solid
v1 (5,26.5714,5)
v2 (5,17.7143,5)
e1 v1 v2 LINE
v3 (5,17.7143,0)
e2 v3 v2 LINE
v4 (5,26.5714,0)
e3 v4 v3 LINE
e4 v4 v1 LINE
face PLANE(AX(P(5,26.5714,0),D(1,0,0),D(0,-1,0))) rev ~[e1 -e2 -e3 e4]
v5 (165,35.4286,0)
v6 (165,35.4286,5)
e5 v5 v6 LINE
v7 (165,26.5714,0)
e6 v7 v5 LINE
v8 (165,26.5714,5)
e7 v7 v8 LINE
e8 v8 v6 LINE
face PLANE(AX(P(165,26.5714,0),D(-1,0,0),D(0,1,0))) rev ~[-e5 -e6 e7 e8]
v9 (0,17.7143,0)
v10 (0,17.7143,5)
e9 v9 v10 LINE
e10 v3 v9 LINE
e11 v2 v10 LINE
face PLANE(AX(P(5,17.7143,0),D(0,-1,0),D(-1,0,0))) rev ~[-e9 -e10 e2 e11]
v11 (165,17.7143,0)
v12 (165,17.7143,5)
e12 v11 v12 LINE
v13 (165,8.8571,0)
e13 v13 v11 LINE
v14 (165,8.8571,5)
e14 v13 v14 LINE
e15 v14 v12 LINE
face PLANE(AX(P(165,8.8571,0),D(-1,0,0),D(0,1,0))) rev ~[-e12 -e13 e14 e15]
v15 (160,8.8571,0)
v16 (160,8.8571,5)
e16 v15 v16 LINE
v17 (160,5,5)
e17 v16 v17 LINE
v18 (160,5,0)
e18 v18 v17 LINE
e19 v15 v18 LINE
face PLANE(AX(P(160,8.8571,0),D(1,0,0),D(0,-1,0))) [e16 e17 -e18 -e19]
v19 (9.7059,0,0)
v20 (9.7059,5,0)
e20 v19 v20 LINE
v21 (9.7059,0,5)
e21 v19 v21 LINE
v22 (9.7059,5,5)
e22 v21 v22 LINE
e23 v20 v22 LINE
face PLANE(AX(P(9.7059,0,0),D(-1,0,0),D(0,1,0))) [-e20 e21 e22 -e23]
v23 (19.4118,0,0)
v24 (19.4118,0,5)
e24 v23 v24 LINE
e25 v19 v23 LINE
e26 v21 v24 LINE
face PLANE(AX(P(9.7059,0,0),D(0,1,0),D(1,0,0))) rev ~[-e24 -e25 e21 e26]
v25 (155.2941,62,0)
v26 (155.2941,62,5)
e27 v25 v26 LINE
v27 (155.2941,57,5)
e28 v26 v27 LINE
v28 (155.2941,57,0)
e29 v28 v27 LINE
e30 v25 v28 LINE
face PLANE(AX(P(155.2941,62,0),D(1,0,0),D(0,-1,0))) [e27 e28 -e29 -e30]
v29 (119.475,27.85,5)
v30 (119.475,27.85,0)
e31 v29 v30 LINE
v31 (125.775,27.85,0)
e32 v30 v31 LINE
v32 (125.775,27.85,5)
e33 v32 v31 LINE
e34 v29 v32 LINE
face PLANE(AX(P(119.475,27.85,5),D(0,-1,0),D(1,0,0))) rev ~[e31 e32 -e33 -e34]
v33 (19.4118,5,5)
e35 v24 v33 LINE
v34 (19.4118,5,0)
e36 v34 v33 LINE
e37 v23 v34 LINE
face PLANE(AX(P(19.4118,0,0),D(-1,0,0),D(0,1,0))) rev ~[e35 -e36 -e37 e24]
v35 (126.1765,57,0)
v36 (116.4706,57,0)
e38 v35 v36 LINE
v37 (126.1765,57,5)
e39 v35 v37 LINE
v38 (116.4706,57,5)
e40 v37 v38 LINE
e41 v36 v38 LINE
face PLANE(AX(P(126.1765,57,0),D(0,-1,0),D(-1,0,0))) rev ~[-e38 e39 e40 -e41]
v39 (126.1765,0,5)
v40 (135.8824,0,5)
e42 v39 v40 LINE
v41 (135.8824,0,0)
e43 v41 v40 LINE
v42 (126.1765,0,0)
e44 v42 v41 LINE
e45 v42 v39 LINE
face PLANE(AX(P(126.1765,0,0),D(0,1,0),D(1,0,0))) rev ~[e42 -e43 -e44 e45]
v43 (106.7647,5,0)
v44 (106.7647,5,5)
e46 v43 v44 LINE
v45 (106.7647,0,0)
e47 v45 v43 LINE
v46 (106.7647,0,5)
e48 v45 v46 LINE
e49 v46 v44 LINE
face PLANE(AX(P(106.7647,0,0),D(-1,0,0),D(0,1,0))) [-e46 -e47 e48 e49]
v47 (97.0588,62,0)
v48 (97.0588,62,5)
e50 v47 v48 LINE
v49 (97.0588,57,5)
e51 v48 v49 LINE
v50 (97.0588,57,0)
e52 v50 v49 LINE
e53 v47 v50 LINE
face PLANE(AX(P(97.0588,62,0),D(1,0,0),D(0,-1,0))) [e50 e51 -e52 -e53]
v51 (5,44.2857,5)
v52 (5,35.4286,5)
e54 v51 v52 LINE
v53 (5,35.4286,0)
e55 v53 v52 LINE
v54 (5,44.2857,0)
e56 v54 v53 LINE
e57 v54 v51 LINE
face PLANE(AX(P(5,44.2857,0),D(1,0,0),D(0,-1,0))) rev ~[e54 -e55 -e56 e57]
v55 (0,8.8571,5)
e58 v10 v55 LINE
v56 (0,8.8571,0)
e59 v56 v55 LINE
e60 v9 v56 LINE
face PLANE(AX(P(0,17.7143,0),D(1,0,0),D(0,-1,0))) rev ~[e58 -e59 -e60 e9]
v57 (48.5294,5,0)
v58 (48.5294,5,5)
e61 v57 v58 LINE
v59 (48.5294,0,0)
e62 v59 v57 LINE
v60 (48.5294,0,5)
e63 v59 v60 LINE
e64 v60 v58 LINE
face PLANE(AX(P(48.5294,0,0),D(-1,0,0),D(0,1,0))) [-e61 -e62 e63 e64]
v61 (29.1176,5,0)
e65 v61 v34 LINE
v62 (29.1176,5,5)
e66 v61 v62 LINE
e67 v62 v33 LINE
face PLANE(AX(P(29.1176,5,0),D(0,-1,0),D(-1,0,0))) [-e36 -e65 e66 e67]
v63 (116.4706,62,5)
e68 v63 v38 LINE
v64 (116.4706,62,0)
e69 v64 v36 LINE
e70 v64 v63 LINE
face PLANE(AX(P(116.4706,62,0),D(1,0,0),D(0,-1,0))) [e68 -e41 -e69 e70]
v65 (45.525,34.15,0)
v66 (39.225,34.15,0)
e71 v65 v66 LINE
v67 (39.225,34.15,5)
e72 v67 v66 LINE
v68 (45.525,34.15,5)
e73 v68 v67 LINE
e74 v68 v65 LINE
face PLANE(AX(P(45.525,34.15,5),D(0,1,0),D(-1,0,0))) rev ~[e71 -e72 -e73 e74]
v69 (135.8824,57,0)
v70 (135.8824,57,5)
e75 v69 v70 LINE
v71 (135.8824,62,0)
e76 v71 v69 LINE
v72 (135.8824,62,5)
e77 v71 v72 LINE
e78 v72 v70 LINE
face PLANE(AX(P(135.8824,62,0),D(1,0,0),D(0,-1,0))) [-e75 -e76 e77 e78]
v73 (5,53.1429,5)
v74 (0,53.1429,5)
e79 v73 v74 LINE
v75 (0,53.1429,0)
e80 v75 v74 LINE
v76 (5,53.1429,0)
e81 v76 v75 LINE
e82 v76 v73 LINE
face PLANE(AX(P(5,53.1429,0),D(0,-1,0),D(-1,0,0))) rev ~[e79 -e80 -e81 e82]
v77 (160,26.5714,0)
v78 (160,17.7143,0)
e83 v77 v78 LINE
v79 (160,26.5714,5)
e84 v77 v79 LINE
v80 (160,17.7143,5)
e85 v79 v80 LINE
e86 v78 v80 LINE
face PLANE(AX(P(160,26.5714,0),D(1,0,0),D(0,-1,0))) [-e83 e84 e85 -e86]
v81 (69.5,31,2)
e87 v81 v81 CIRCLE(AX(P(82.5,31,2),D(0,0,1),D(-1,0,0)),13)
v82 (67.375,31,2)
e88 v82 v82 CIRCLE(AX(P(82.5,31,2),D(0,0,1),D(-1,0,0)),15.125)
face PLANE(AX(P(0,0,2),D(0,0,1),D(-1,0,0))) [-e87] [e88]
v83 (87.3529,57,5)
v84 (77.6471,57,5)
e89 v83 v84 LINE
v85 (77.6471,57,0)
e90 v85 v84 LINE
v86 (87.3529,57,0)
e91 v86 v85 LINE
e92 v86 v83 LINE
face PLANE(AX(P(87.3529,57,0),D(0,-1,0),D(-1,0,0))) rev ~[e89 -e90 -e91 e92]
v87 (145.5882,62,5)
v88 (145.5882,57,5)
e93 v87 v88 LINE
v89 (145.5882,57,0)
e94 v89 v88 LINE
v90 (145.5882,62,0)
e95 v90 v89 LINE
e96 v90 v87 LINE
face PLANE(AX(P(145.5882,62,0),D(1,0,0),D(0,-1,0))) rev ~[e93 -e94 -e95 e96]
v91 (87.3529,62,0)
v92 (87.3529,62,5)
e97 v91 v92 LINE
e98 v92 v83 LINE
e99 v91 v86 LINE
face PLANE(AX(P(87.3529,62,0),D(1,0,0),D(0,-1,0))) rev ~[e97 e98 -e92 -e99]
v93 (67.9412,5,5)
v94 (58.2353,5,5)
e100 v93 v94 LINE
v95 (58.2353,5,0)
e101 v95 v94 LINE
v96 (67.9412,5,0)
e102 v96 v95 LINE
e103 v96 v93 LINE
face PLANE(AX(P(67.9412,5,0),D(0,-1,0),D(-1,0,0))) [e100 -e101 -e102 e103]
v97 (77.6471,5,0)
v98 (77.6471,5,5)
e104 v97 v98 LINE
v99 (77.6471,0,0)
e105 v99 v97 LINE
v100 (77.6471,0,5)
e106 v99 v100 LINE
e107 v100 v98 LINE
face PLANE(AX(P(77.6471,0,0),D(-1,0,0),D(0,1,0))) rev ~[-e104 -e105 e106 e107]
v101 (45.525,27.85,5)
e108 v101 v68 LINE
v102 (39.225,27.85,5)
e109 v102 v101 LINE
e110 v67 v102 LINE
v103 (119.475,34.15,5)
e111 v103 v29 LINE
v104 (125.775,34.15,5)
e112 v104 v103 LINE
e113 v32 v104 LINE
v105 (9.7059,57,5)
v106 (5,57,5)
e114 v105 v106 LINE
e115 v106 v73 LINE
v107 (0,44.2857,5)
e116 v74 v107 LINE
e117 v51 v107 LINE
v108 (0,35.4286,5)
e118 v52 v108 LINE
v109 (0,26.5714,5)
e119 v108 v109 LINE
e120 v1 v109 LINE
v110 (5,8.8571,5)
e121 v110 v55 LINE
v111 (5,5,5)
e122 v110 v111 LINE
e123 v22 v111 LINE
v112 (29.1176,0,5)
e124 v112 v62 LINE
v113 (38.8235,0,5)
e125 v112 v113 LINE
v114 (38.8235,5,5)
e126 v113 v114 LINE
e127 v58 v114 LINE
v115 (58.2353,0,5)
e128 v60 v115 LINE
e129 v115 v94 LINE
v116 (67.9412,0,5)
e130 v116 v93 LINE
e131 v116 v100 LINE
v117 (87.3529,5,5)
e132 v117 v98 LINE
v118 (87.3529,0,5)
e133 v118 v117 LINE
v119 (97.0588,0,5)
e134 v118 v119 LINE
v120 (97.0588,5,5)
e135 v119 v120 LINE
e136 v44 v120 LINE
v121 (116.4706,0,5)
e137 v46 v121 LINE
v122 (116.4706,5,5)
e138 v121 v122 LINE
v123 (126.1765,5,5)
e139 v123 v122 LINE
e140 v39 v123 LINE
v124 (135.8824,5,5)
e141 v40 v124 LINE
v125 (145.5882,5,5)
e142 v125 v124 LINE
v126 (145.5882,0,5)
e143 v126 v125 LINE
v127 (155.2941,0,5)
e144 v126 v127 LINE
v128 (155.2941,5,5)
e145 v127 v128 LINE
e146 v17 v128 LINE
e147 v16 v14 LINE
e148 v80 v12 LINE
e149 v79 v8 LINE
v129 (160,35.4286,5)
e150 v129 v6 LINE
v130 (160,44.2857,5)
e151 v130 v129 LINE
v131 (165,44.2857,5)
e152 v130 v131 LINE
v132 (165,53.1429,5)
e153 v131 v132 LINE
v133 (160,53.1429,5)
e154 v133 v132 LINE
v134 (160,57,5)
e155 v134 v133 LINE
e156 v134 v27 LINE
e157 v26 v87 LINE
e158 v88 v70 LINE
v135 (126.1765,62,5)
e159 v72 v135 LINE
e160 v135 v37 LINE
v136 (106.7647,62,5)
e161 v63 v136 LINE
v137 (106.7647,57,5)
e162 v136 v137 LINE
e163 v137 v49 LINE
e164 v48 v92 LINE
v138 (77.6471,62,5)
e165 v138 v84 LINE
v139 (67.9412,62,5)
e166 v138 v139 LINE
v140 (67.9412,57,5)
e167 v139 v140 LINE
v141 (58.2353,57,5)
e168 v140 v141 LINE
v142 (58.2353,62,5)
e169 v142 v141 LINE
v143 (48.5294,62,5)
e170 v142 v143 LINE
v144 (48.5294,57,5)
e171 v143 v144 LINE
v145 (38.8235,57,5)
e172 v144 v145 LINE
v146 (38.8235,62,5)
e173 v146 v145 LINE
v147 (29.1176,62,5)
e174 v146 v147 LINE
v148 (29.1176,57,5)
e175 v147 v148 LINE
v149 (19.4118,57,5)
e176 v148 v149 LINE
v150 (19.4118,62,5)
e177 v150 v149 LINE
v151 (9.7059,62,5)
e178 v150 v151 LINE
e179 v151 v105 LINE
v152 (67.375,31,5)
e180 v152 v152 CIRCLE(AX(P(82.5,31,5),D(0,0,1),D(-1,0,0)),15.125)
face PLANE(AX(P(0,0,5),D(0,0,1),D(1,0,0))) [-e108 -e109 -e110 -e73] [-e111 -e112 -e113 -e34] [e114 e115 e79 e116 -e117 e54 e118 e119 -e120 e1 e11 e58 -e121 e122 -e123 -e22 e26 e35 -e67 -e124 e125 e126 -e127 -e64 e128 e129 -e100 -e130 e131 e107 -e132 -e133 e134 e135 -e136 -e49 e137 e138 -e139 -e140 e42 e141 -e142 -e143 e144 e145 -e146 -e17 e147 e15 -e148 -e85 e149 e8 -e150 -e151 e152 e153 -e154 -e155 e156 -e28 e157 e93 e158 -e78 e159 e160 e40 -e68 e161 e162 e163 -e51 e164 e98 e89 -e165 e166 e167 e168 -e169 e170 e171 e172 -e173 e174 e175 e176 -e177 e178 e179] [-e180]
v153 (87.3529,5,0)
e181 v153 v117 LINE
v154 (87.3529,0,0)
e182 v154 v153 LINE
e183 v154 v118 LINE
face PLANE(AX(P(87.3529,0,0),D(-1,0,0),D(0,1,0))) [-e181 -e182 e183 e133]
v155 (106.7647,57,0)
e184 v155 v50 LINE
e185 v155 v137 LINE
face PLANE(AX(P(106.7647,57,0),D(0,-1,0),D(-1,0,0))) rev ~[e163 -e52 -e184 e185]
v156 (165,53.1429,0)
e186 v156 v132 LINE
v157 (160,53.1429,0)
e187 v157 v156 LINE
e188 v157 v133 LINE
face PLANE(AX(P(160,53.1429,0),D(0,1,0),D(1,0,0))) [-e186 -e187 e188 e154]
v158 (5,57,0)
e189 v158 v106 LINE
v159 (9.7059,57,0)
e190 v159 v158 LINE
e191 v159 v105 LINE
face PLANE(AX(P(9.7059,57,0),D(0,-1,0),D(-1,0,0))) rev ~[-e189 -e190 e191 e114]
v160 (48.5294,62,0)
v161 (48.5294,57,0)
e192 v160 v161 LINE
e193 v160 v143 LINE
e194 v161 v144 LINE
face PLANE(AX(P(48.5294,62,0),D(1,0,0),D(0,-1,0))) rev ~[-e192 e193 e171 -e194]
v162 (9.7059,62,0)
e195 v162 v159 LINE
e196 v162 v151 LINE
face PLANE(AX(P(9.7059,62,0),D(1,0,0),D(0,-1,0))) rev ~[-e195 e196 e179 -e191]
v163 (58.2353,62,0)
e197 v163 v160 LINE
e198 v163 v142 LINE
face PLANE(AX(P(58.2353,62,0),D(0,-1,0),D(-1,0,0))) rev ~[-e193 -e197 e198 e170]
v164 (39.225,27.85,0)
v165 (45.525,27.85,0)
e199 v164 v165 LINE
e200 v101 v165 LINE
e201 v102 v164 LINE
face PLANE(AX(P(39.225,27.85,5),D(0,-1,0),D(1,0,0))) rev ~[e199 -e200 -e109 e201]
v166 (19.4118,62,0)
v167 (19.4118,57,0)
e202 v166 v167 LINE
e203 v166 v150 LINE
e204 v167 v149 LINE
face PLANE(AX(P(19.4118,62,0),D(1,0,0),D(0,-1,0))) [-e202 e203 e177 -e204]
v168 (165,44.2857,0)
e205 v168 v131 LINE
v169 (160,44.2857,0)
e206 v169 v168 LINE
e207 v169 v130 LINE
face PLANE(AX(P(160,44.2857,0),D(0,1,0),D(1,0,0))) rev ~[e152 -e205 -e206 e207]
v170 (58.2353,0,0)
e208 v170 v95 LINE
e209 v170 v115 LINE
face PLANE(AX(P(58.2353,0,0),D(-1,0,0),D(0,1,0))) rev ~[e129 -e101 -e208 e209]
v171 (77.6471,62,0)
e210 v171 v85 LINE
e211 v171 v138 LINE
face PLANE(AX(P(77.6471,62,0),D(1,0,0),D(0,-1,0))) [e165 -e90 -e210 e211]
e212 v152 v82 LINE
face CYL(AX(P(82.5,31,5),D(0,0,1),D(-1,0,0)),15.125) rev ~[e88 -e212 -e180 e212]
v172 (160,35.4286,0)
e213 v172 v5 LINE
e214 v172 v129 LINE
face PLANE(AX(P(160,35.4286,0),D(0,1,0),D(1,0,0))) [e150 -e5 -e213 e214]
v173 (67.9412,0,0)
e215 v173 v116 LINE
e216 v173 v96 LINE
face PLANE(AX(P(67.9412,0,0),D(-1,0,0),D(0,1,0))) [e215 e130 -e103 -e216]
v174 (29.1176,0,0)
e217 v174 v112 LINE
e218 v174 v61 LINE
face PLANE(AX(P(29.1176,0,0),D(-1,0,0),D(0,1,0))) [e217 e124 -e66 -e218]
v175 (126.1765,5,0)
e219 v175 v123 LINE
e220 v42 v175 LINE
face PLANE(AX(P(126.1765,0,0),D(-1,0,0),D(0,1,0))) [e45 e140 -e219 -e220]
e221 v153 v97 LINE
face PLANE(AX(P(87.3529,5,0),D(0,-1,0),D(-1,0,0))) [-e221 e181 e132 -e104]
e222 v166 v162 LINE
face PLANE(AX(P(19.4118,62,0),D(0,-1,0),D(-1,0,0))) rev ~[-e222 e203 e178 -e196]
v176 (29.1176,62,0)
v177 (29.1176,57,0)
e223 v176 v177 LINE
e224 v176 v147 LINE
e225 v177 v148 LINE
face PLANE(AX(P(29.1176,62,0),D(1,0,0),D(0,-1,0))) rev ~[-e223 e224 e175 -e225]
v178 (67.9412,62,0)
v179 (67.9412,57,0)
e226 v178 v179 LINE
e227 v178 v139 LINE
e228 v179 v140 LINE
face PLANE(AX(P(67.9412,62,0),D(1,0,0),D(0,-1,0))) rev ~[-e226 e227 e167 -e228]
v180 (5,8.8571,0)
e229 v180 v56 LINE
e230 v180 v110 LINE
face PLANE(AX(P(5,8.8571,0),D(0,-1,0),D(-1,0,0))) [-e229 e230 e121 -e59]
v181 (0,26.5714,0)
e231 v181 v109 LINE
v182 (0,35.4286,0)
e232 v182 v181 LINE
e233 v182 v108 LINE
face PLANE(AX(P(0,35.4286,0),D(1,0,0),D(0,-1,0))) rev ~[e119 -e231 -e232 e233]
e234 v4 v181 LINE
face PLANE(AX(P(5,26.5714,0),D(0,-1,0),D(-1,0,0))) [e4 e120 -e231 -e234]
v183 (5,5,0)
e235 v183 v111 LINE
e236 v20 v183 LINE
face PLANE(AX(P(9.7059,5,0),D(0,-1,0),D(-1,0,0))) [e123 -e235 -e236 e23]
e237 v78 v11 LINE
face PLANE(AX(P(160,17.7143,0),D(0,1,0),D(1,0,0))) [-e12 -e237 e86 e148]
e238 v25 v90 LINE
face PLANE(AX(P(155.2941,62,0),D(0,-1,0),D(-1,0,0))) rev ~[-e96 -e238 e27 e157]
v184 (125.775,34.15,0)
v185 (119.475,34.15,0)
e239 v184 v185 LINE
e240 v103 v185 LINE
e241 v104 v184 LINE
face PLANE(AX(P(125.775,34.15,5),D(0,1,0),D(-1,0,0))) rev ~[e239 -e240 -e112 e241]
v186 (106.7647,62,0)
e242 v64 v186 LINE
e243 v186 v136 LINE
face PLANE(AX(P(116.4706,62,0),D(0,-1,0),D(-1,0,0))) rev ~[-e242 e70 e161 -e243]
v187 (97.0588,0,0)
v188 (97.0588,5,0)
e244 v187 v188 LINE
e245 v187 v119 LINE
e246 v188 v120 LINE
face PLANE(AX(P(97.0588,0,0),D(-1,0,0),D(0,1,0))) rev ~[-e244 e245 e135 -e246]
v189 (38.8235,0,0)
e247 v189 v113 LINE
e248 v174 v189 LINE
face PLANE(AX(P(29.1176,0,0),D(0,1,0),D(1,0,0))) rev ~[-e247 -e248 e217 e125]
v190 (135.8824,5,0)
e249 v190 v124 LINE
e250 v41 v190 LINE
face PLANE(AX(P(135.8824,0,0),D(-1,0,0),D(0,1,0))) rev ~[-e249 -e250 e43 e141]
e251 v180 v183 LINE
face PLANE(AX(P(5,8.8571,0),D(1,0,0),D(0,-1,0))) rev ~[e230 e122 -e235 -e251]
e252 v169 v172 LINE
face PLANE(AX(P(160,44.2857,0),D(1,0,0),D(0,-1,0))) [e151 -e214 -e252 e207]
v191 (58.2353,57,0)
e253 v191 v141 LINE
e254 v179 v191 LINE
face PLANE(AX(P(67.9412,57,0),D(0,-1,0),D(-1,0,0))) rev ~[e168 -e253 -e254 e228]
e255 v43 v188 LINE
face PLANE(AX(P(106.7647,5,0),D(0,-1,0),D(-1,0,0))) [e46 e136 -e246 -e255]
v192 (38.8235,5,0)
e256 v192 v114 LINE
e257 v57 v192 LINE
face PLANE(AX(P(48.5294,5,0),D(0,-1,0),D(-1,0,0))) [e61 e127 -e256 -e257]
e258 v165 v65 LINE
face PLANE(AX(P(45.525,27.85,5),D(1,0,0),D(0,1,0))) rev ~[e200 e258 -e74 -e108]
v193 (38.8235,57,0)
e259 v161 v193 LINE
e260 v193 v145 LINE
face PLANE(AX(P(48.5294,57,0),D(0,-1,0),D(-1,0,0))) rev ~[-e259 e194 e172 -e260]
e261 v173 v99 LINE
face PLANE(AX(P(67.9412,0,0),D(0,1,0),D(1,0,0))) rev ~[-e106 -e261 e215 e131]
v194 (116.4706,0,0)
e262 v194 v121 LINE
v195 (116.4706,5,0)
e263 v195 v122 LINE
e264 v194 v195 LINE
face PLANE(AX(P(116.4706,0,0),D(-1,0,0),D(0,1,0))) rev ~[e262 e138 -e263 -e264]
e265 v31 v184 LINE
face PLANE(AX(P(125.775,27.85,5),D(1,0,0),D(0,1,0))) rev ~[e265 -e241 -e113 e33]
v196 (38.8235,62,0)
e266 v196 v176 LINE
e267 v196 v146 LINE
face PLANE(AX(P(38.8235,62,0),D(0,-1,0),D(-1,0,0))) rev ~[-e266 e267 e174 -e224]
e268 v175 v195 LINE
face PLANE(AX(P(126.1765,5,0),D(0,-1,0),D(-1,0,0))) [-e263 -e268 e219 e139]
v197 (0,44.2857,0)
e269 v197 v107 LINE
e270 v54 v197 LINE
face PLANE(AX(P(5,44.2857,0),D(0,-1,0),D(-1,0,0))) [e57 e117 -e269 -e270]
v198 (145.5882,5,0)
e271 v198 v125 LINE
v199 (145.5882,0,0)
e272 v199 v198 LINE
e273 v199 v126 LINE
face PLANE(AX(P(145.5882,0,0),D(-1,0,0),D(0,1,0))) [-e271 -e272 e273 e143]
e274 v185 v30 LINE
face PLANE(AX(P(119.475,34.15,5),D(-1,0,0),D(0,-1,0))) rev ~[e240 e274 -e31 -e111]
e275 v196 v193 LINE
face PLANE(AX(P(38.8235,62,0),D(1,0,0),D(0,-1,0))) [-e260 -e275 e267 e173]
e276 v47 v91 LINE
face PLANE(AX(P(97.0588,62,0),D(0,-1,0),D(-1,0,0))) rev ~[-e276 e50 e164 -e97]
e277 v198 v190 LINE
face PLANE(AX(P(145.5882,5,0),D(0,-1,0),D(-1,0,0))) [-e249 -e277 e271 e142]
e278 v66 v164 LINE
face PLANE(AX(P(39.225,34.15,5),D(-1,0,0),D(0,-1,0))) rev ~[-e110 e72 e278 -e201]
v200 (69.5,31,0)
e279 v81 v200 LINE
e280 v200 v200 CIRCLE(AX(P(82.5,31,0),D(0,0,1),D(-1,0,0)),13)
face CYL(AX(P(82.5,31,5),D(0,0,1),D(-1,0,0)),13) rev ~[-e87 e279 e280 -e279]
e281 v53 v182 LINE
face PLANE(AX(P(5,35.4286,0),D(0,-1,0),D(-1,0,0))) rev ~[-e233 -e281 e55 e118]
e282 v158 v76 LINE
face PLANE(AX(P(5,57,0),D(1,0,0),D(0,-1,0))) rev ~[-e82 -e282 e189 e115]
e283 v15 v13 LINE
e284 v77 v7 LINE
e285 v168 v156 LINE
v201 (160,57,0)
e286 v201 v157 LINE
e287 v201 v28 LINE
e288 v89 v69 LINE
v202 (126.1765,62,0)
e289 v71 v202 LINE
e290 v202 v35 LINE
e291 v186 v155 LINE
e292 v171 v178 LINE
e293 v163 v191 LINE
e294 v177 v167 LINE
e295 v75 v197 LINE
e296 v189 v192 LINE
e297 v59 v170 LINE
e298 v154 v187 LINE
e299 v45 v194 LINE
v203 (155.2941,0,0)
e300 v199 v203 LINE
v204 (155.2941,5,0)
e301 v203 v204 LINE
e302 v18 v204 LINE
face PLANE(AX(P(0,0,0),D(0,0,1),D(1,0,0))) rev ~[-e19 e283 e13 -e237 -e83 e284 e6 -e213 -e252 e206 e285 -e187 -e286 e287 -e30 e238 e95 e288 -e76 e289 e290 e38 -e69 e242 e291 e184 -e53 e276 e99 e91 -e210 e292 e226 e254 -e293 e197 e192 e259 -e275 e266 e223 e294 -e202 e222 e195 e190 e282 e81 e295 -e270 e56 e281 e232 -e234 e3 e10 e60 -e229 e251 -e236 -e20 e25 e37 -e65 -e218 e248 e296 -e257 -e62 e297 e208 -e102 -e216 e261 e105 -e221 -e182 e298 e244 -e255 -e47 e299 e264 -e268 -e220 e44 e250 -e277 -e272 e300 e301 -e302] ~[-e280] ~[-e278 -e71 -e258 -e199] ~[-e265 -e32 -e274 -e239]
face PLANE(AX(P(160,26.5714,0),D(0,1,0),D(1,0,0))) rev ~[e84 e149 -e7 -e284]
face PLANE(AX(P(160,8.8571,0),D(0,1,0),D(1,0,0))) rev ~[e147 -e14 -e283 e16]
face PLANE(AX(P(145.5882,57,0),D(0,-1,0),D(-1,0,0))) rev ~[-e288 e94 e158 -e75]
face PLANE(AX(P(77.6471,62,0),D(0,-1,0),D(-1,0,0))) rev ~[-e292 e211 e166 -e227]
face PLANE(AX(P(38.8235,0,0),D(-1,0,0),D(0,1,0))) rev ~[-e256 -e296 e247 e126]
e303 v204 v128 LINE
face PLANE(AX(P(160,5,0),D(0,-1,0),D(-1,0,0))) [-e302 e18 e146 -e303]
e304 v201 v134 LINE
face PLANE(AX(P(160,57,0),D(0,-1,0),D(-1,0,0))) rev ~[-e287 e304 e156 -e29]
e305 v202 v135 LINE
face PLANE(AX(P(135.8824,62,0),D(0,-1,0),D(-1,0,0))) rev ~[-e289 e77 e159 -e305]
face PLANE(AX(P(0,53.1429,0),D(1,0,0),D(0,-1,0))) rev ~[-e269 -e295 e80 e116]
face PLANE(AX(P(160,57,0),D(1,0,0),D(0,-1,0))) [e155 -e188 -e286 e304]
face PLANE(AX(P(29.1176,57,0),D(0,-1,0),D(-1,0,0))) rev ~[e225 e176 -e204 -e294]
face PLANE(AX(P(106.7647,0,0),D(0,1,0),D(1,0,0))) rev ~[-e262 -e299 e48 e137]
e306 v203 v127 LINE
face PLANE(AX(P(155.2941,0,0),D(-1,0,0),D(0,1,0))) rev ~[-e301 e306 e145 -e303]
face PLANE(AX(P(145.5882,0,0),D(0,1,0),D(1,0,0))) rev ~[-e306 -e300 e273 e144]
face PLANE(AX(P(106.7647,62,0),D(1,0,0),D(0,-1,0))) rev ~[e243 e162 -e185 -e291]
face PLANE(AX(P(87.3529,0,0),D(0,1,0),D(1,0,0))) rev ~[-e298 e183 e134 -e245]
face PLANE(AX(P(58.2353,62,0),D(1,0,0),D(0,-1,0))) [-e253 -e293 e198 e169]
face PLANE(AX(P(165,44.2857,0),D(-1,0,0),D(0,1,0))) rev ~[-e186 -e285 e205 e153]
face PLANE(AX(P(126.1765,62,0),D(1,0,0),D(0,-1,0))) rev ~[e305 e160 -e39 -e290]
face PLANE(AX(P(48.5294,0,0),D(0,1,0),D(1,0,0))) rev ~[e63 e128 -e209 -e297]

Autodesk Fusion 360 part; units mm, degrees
sketch "Sketch1" plane through (0, 0, 0) normal (0, 0, 1) x (1, 0, 0)
  line L0 (0, 0) -> (165, 0)
  line L1 (165, 0) -> (165, 62)
  line L2 (165, 62) -> (0, 62)
  line L3 (0, 62) -> (0, 0)
  line L4 (0, 62) -> (9.7059, 62)
  line L5 (9.7059, 62) -> (9.7059, 57)
  line L6 (9.7059, 57) -> (0, 57)
  line L7 (0, 57) -> (0, 62)
  line L8 (9.7059, 62) -> (19.4118, 62)
  line L9 (19.4118, 62) -> (19.4118, 57)
  line L10 (19.4118, 57) -> (9.7059, 57)
  line L11 (9.7059, 57) -> (9.7059, 62)
  line L12 (19.4118, 62) -> (29.1176, 62)
  line L13 (29.1176, 62) -> (29.1176, 57)
  line L14 (29.1176, 57) -> (19.4118, 57)
  line L15 (19.4118, 57) -> (19.4118, 62)
  line L16 (29.1176, 62) -> (38.8235, 62)
  line L17 (38.8235, 62) -> (38.8235, 57)
  line L18 (38.8235, 57) -> (29.1176, 57)
  line L19 (29.1176, 57) -> (29.1176, 62)
  line L20 (38.8235, 62) -> (48.5294, 62)
  line L21 (48.5294, 62) -> (48.5294, 57)
  line L22 (48.5294, 57) -> (38.8235, 57)
  line L23 (38.8235, 57) -> (38.8235, 62)
  line L24 (48.5294, 62) -> (58.2353, 62)
  line L25 (58.2353, 62) -> (58.2353, 57)
  line L26 (58.2353, 57) -> (48.5294, 57)
  line L27 (48.5294, 57) -> (48.5294, 62)
  line L28 (58.2353, 62) -> (67.9412, 62)
  line L29 (67.9412, 62) -> (67.9412, 57)
  line L30 (67.9412, 57) -> (58.2353, 57)
  line L31 (58.2353, 57) -> (58.2353, 62)
  line L32 (67.9412, 62) -> (77.6471, 62)
  line L33 (77.6471, 62) -> (77.6471, 57)
  line L34 (77.6471, 57) -> (67.9412, 57)
  line L35 (67.9412, 57) -> (67.9412, 62)
  line L36 (77.6471, 62) -> (87.3529, 62)
  line L37 (87.3529, 62) -> (87.3529, 57)
  line L38 (87.3529, 57) -> (77.6471, 57)
  line L39 (77.6471, 57) -> (77.6471, 62)
  line L40 (87.3529, 62) -> (97.0588, 62)
  line L41 (97.0588, 62) -> (97.0588, 57)
  line L42 (97.0588, 57) -> (87.3529, 57)
  line L43 (87.3529, 57) -> (87.3529, 62)
  line L44 (97.0588, 62) -> (106.7647, 62)
  line L45 (106.7647, 62) -> (106.7647, 57)
  line L46 (106.7647, 57) -> (97.0588, 57)
  line L47 (97.0588, 57) -> (97.0588, 62)
  line L48 (106.7647, 62) -> (116.4706, 62)
  line L49 (116.4706, 62) -> (116.4706, 57)
  line L50 (116.4706, 57) -> (106.7647, 57)
  line L51 (106.7647, 57) -> (106.7647, 62)
  line L52 (116.4706, 62) -> (126.1765, 62)
  line L53 (126.1765, 62) -> (126.1765, 57)
  line L54 (126.1765, 57) -> (116.4706, 57)
  line L55 (116.4706, 57) -> (116.4706, 62)
  line L56 (126.1765, 62) -> (135.8824, 62)
  line L57 (135.8824, 62) -> (135.8824, 57)
  line L58 (135.8824, 57) -> (126.1765, 57)
  line L59 (126.1765, 57) -> (126.1765, 62)
  line L60 (135.8824, 62) -> (145.5882, 62)
  line L61 (145.5882, 62) -> (145.5882, 57)
  line L62 (145.5882, 57) -> (135.8824, 57)
  line L63 (135.8824, 57) -> (135.8824, 62)
  line L64 (145.5882, 62) -> (155.2941, 62)
  line L65 (155.2941, 62) -> (155.2941, 57)
  line L66 (155.2941, 57) -> (145.5882, 57)
  line L67 (145.5882, 57) -> (145.5882, 62)
  line L68 (155.2941, 62) -> (165, 62)
  line L69 (165, 62) -> (165, 57)
  line L70 (165, 57) -> (155.2941, 57)
  line L71 (155.2941, 57) -> (155.2941, 62)
  line L72 (0, 62) -> (5, 62)
  line L73 (5, 62) -> (5, 53.1429)
  line L74 (5, 53.1429) -> (0, 53.1429)
  line L75 (0, 53.1429) -> (0, 62)
  line L76 (5, 44.2857) -> (0, 44.2857)
  line L77 (5, 53.1429) -> (5, 44.2857)
  line L78 (0, 44.2857) -> (0, 53.1429)
  line L79 (0, 53.1429) -> (5, 53.1429)
  line L80 (5, 35.4286) -> (0, 35.4286)
  line L81 (5, 44.2857) -> (5, 35.4286)
  line L82 (0, 35.4286) -> (0, 44.2857)
  line L83 (0, 44.2857) -> (5, 44.2857)
  line L84 (5, 26.5714) -> (0, 26.5714)
  line L85 (5, 35.4286) -> (5, 26.5714)
  line L86 (0, 26.5714) -> (0, 35.4286)
  line L87 (0, 35.4286) -> (5, 35.4286)
  line L88 (5, 17.7143) -> (0, 17.7143)
  line L89 (5, 26.5714) -> (5, 17.7143)
  line L90 (0, 17.7143) -> (0, 26.5714)
  line L91 (0, 26.5714) -> (5, 26.5714)
  line L92 (5, 8.8571) -> (0, 8.8571)
  line L93 (5, 17.7143) -> (5, 8.8571)
  line L94 (0, 8.8571) -> (0, 17.7143)
  line L95 (0, 17.7143) -> (5, 17.7143)
  line L96 (5, 0) -> (0, 0)
  line L97 (5, 8.8571) -> (5, 0)
  line L98 (0, 0) -> (0, 8.8571)
  line L99 (0, 8.8571) -> (5, 8.8571)
  line L100 (0, 0) -> (9.7059, 0)
  line L101 (9.7059, 0) -> (9.7059, 5)
  line L102 (9.7059, 5) -> (0, 5)
  line L103 (0, 5) -> (0, 0)
  line L104 (9.7059, 0) -> (19.4118, 0)
  line L105 (19.4118, 0) -> (19.4118, 5)
  line L106 (9.7059, 5) -> (9.7059, 0)
  line L107 (19.4118, 5) -> (9.7059, 5)
  line L108 (19.4118, 0) -> (29.1176, 0)
  line L109 (29.1176, 0) -> (29.1176, 5)
  line L110 (19.4118, 5) -> (19.4118, 0)
  line L111 (29.1176, 5) -> (19.4118, 5)
  line L112 (29.1176, 0) -> (38.8235, 0)
  line L113 (38.8235, 0) -> (38.8235, 5)
  line L114 (29.1176, 5) -> (29.1176, 0)
  line L115 (38.8235, 5) -> (29.1176, 5)
  line L116 (38.8235, 0) -> (48.5294, 0)
  line L117 (48.5294, 0) -> (48.5294, 5)
  line L118 (38.8235, 5) -> (38.8235, 0)
  line L119 (48.5294, 5) -> (38.8235, 5)
  line L120 (48.5294, 0) -> (58.2353, 0)
  line L121 (58.2353, 0) -> (58.2353, 5)
  line L122 (48.5294, 5) -> (48.5294, 0)
  line L123 (58.2353, 5) -> (48.5294, 5)
  line L124 (58.2353, 0) -> (67.9412, 0)
  line L125 (67.9412, 0) -> (67.9412, 5)
  line L126 (58.2353, 5) -> (58.2353, 0)
  line L127 (67.9412, 5) -> (58.2353, 5)
  line L128 (67.9412, 0) -> (77.6471, 0)
  line L129 (77.6471, 0) -> (77.6471, 5)
  line L130 (67.9412, 5) -> (67.9412, 0)
  line L131 (77.6471, 5) -> (67.9412, 5)
  line L132 (77.6471, 0) -> (87.3529, 0)
  line L133 (87.3529, 0) -> (87.3529, 5)
  line L134 (77.6471, 5) -> (77.6471, 0)
  line L135 (87.3529, 5) -> (77.6471, 5)
  line L136 (87.3529, 0) -> (97.0588, 0)
  line L137 (97.0588, 0) -> (97.0588, 5)
  line L138 (87.3529, 5) -> (87.3529, 0)
  line L139 (97.0588, 5) -> (87.3529, 5)
  line L140 (97.0588, 0) -> (106.7647, 0)
  line L141 (106.7647, 0) -> (106.7647, 5)
  line L142 (97.0588, 5) -> (97.0588, 0)
  line L143 (106.7647, 5) -> (97.0588, 5)
  line L144 (106.7647, 0) -> (116.4706, 0)
  line L145 (116.4706, 0) -> (116.4706, 5)
  line L146 (106.7647, 5) -> (106.7647, 0)
  line L147 (116.4706, 5) -> (106.7647, 5)
  line L148 (116.4706, 0) -> (126.1765, 0)
  line L149 (126.1765, 0) -> (126.1765, 5)
  line L150 (116.4706, 5) -> (116.4706, 0)
  line L151 (126.1765, 5) -> (116.4706, 5)
  line L152 (126.1765, 0) -> (135.8824, 0)
  line L153 (135.8824, 0) -> (135.8824, 5)
  line L154 (126.1765, 5) -> (126.1765, 0)
  line L155 (135.8824, 5) -> (126.1765, 5)
  line L156 (135.8824, 0) -> (145.5882, 0)
  line L157 (145.5882, 0) -> (145.5882, 5)
  line L158 (135.8824, 5) -> (135.8824, 0)
  line L159 (145.5882, 5) -> (135.8824, 5)
  line L160 (145.5882, 0) -> (155.2941, 0)
  line L161 (155.2941, 0) -> (155.2941, 5)
  line L162 (145.5882, 5) -> (145.5882, 0)
  line L163 (155.2941, 5) -> (145.5882, 5)
  line L164 (155.2941, 0) -> (165, 0)
  line L165 (165, 0) -> (165, 5)
  line L166 (155.2941, 5) -> (155.2941, 0)
  line L167 (165, 5) -> (155.2941, 5)
  line L168 (165, 62) -> (160, 62)
  line L169 (160, 62) -> (160, 53.1429)
  line L170 (160, 53.1429) -> (165, 53.1429)
  line L171 (165, 53.1429) -> (165, 62)
  line L172 (160, 53.1429) -> (160, 44.2857)
  line L173 (160, 44.2857) -> (165, 44.2857)
  line L174 (160, 44.2857) -> (160, 35.4286)
  line L175 (160, 35.4286) -> (165, 35.4286)
  line L176 (160, 35.4286) -> (160, 26.5714)
  line L177 (160, 26.5714) -> (165, 26.5714)
  line L178 (160, 26.5714) -> (160, 17.7143)
  line L179 (160, 17.7143) -> (165, 17.7143)
  line L180 (160, 17.7143) -> (160, 8.8571)
  line L181 (160, 8.8571) -> (165, 8.8571)
  line L182 (160, 8.8571) -> (160, 0)
  line L183 (160, 0) -> (165, 0)
  dimension "d4" = 165
  dimension "d5" = 62
  dimension "d6" = 9.7059
  dimension "d7" = 5
  dimension "d10" = 155.2941
  dimension "d11" = 0
  dimension "d12" = 5
  dimension "d13" = 8.8571
  dimension "d16" = 0
  dimension "d17" = -53.1429
  dimension "d18" = 9.7059
  dimension "d19" = 5
  dimension "d22" = 155.2941
  dimension "d23" = 0
  dimension "d24" = 5
  dimension "d25" = 8.8571
  dimension "d28" = 0
  dimension "d29" = -53.1429
extrude "Extrude1" add sketch "Sketch1" along normal blind 5 contours L0 L101 L104 L105 L106 L107 L110 | L6 L10 L14 L18 L22 L26 L30 L34 L38 L42 L46 L50 L54 L58 L62 L66 L70 L73 L77 L81 L85 L89 L93 L97 L102 L107 L111 L115 L119 L123 L127 L131 L135 L139 L143 L147 L151 L155 L159 L163 L167 L169 L172 L174 L176 L178 L180 L182 | L3 L88 L92 L93 L94 L95 L99 | L0 L109 L112 L113 L114 L115 L118 | L3 L80 L84 L85 L86 L87 L91 | L0 L117 L120 L121 L122 L123 L126 | L3 L74 L76 L77 L78 L79 L83 | L0 L125 L128 L129 L130 L131 L134 | L0 L133 L136 L137 L138 L139 L142 | L2 L5 L8 L9 L10 L11 L15 | L0 L141 L144 L145 L146 L147 L150 | L2 L13 L16 L17 L18 L19 L23 | L0 L149 L152 L153 L154 L155 L158 | L2 L21 L24 L25 L26 L27 L31 | L0 L157 L160 L161 L162 L163 L166 | L2 L29 L32 L33 L34 L35 L39 | L2 L37 L40 L41 L42 L43 L47 | L1 L179 L180 L181 | L2 L45 L48 L49 L50 L51 L55 | L1 L175 L176 L177 | L2 L53 L56 L57 L58 L59 L63 | L1 L170 L172 L173 | L2 L61 L64 L65 L66 L67 L71
sketch "Sketch2" plane through (0, 0, 5) normal (0, 0, 1) x (-1, 0, 0)
  line L0 (-165, -8.8571) -> (-165, -17.7143)
  line L1 (-165, -17.7143) -> (-160, -17.7143)
  line L2 (-160, -17.7143) -> (-160, -26.5714)
  line L3 (-160, -26.5714) -> (-165, -26.5714)
  line L4 (-165, -26.5714) -> (-165, -35.4286)
  line L5 (-165, -35.4286) -> (-160, -35.4286)
  line L6 (-160, -35.4286) -> (-160, -44.2857)
  line L7 (-160, -44.2857) -> (-165, -44.2857)
  line L8 (-165, -44.2857) -> (-165, -53.1429)
  line L9 (-165, -53.1429) -> (-160, -53.1429)
  line L10 (-160, -53.1429) -> (-160, -57)
  line L11 (-160, -57) -> (-155.2941, -57)
  line L12 (-155.2941, -57) -> (-155.2941, -62)
  line L13 (-155.2941, -62) -> (-145.5882, -62)
  line L14 (-145.5882, -62) -> (-145.5882, -57)
  line L15 (-145.5882, -57) -> (-135.8824, -57)
  line L16 (-135.8824, -57) -> (-135.8824, -62)
  line L17 (-135.8824, -62) -> (-126.1765, -62)
  line L18 (-126.1765, -62) -> (-126.1765, -57)
  line L19 (-126.1765, -57) -> (-116.4706, -57)
  line L20 (-116.4706, -57) -> (-116.4706, -62)
  line L21 (-116.4706, -62) -> (-106.7647, -62)
  line L22 (-106.7647, -62) -> (-106.7647, -57)
  line L23 (-106.7647, -57) -> (-97.0588, -57)
  line L24 (-97.0588, -57) -> (-97.0588, -62)
  line L25 (-97.0588, -62) -> (-87.3529, -62)
  line L26 (-87.3529, -62) -> (-87.3529, -57)
  line L27 (-87.3529, -57) -> (-77.6471, -57)
  line L28 (-77.6471, -57) -> (-77.6471, -62)
  line L29 (-77.6471, -62) -> (-67.9412, -62)
  line L30 (-67.9412, -62) -> (-67.9412, -57)
  line L31 (-67.9412, -57) -> (-58.2353, -57)
  line L32 (-58.2353, -57) -> (-58.2353, -62)
  line L33 (-58.2353, -62) -> (-48.5294, -62)
  line L34 (-48.5294, -62) -> (-48.5294, -57)
  line L35 (-48.5294, -57) -> (-38.8235, -57)
  line L36 (-38.8235, -57) -> (-38.8235, -62)
  line L37 (-38.8235, -62) -> (-29.1176, -62)
  line L38 (-29.1176, -62) -> (-29.1176, -57)
  line L39 (-29.1176, -57) -> (-19.4118, -57)
  line L40 (-19.4118, -57) -> (-19.4118, -62)
  line L41 (-19.4118, -62) -> (-9.7059, -62)
  line L42 (-9.7059, -62) -> (-9.7059, -57)
  line L43 (-9.7059, -57) -> (-5, -57)
  line L44 (-5, -57) -> (-5, -53.1429)
  line L45 (-5, -53.1429) -> (0, -53.1429)
  line L46 (0, -53.1429) -> (0, -44.2857)
  line L47 (0, -44.2857) -> (-5, -44.2857)
  line L48 (-5, -44.2857) -> (-5, -35.4286)
  line L49 (-5, -35.4286) -> (0, -35.4286)
  line L50 (0, -35.4286) -> (0, -26.5714)
  line L51 (0, -26.5714) -> (-5, -26.5714)
  line L52 (-5, -26.5714) -> (-5, -17.7143)
  line L53 (-5, -17.7143) -> (0, -17.7143)
  line L54 (0, -17.7143) -> (0, -8.8571)
  line L55 (0, -8.8571) -> (-5, -8.8571)
  line L56 (-5, -8.8571) -> (-5, -5)
  line L57 (-5, -5) -> (-9.7059, -5)
  line L58 (-9.7059, -5) -> (-9.7059, 0)
  line L59 (-9.7059, 0) -> (-19.4118, 0)
  line L60 (-19.4118, 0) -> (-19.4118, -5)
  line L61 (-19.4118, -5) -> (-29.1176, -5)
  line L62 (-29.1176, -5) -> (-29.1176, 0)
  line L63 (-29.1176, 0) -> (-38.8235, 0)
  line L64 (-38.8235, 0) -> (-38.8235, -5)
  line L65 (-38.8235, -5) -> (-48.5294, -5)
  line L66 (-48.5294, -5) -> (-48.5294, 0)
  line L67 (-48.5294, 0) -> (-58.2353, 0)
  line L68 (-58.2353, 0) -> (-58.2353, -5)
  line L69 (-58.2353, -5) -> (-67.9412, -5)
  line L70 (-67.9412, -5) -> (-67.9412, 0)
  line L71 (-67.9412, 0) -> (-77.6471, 0)
  line L72 (-77.6471, 0) -> (-77.6471, -5)
  line L73 (-77.6471, -5) -> (-87.3529, -5)
  line L74 (-87.3529, -5) -> (-87.3529, 0)
  line L75 (-87.3529, 0) -> (-97.0588, 0)
  line L76 (-97.0588, 0) -> (-97.0588, -5)
  line L77 (-97.0588, -5) -> (-106.7647, -5)
  line L78 (-106.7647, -5) -> (-106.7647, 0)
  line L79 (-106.7647, 0) -> (-116.4706, 0)
  line L80 (-116.4706, 0) -> (-116.4706, -5)
  line L81 (-116.4706, -5) -> (-126.1765, -5)
  line L82 (-126.1765, -5) -> (-126.1765, 0)
  line L83 (-126.1765, 0) -> (-135.8824, 0)
  line L84 (-135.8824, 0) -> (-135.8824, -5)
  line L85 (-135.8824, -5) -> (-145.5882, -5)
  line L86 (-145.5882, -5) -> (-145.5882, 0)
  line L87 (-145.5882, 0) -> (-155.2941, 0)
  line L88 (-155.2941, 0) -> (-155.2941, -5)
  line L89 (-155.2941, -5) -> (-160, -5)
  line L90 (-160, -5) -> (-160, -8.8571)
  line L91 (-160, -8.8571) -> (-165, -8.8571)
  line L92 (0, -31) -> (-82.5, -31) construction
  circle A0 centre (-82.5, -31) radius 13
  dimension "d36" = 82.5
  dimension "d38" = 26
extrude "Extrude2" cut sketch "Sketch2" against normal up to surface (5 mm away) contours A0
sketch "Sketch3" plane through (0, 0, 5) normal (0, 0, 1) x (-1, 0, 0)
  circle A0 centre (-82.5, -31) radius 13
  line L0 (-165, -8.8571) -> (-165, -17.7143)
  line L1 (-165, -17.7143) -> (-160, -17.7143)
  line L2 (-160, -17.7143) -> (-160, -26.5714)
  line L3 (-160, -26.5714) -> (-165, -26.5714)
  line L4 (-165, -26.5714) -> (-165, -35.4286)
  line L5 (-165, -35.4286) -> (-160, -35.4286)
  line L6 (-160, -35.4286) -> (-160, -44.2857)
  line L7 (-160, -44.2857) -> (-165, -44.2857)
  line L8 (-165, -44.2857) -> (-165, -53.1429)
  line L9 (-165, -53.1429) -> (-160, -53.1429)
  line L10 (-160, -53.1429) -> (-160, -57)
  line L11 (-160, -57) -> (-155.2941, -57)
  line L12 (-155.2941, -57) -> (-155.2941, -62)
  line L13 (-155.2941, -62) -> (-145.5882, -62)
  line L14 (-145.5882, -62) -> (-145.5882, -57)
  line L15 (-145.5882, -57) -> (-135.8824, -57)
  line L16 (-135.8824, -57) -> (-135.8824, -62)
  line L17 (-135.8824, -62) -> (-126.1765, -62)
  line L18 (-126.1765, -62) -> (-126.1765, -57)
  line L19 (-126.1765, -57) -> (-116.4706, -57)
  line L20 (-116.4706, -57) -> (-116.4706, -62)
  line L21 (-116.4706, -62) -> (-106.7647, -62)
  line L22 (-106.7647, -62) -> (-106.7647, -57)
  line L23 (-106.7647, -57) -> (-97.0588, -57)
  line L24 (-97.0588, -57) -> (-97.0588, -62)
  line L25 (-97.0588, -62) -> (-87.3529, -62)
  line L26 (-87.3529, -62) -> (-87.3529, -57)
  line L27 (-87.3529, -57) -> (-77.6471, -57)
  line L28 (-77.6471, -57) -> (-77.6471, -62)
  line L29 (-77.6471, -62) -> (-67.9412, -62)
  line L30 (-67.9412, -62) -> (-67.9412, -57)
  line L31 (-67.9412, -57) -> (-58.2353, -57)
  line L32 (-58.2353, -57) -> (-58.2353, -62)
  line L33 (-58.2353, -62) -> (-48.5294, -62)
  line L34 (-48.5294, -62) -> (-48.5294, -57)
  line L35 (-48.5294, -57) -> (-38.8235, -57)
  line L36 (-38.8235, -57) -> (-38.8235, -62)
  line L37 (-38.8235, -62) -> (-29.1176, -62)
  line L38 (-29.1176, -62) -> (-29.1176, -57)
  line L39 (-29.1176, -57) -> (-19.4118, -57)
  line L40 (-19.4118, -57) -> (-19.4118, -62)
  line L41 (-19.4118, -62) -> (-9.7059, -62)
  line L42 (-9.7059, -62) -> (-9.7059, -57)
  line L43 (-9.7059, -57) -> (-5, -57)
  line L44 (-5, -57) -> (-5, -53.1429)
  line L45 (-5, -53.1429) -> (0, -53.1429)
  line L46 (0, -53.1429) -> (0, -44.2857)
  line L47 (0, -44.2857) -> (-5, -44.2857)
  line L48 (-5, -44.2857) -> (-5, -35.4286)
  line L49 (-5, -35.4286) -> (0, -35.4286)
  line L50 (0, -35.4286) -> (0, -26.5714)
  line L51 (0, -26.5714) -> (-5, -26.5714)
  line L52 (-5, -26.5714) -> (-5, -17.7143)
  line L53 (-5, -17.7143) -> (0, -17.7143)
  line L54 (0, -17.7143) -> (0, -8.8571)
  line L55 (0, -8.8571) -> (-5, -8.8571)
  line L56 (-5, -8.8571) -> (-5, -5)
  line L57 (-5, -5) -> (-9.7059, -5)
  line L58 (-9.7059, -5) -> (-9.7059, 0)
  line L59 (-9.7059, 0) -> (-19.4118, 0)
  line L60 (-19.4118, 0) -> (-19.4118, -5)
  line L61 (-19.4118, -5) -> (-29.1176, -5)
  line L62 (-29.1176, -5) -> (-29.1176, 0)
  line L63 (-29.1176, 0) -> (-38.8235, 0)
  line L64 (-38.8235, 0) -> (-38.8235, -5)
  line L65 (-38.8235, -5) -> (-48.5294, -5)
  line L66 (-48.5294, -5) -> (-48.5294, 0)
  line L67 (-48.5294, 0) -> (-58.2353, 0)
  line L68 (-58.2353, 0) -> (-58.2353, -5)
  line L69 (-58.2353, -5) -> (-67.9412, -5)
  line L70 (-67.9412, -5) -> (-67.9412, 0)
  line L71 (-67.9412, 0) -> (-77.6471, 0)
  line L72 (-77.6471, 0) -> (-77.6471, -5)
  line L73 (-77.6471, -5) -> (-87.3529, -5)
  line L74 (-87.3529, -5) -> (-87.3529, 0)
  line L75 (-87.3529, 0) -> (-97.0588, 0)
  line L76 (-97.0588, 0) -> (-97.0588, -5)
  line L77 (-97.0588, -5) -> (-106.7647, -5)
  line L78 (-106.7647, -5) -> (-106.7647, 0)
  line L79 (-106.7647, 0) -> (-116.4706, 0)
  line L80 (-116.4706, 0) -> (-116.4706, -5)
  line L81 (-116.4706, -5) -> (-126.1765, -5)
  line L82 (-126.1765, -5) -> (-126.1765, 0)
  line L83 (-126.1765, 0) -> (-135.8824, 0)
  line L84 (-135.8824, 0) -> (-135.8824, -5)
  line L85 (-135.8824, -5) -> (-145.5882, -5)
  line L86 (-145.5882, -5) -> (-145.5882, 0)
  line L87 (-145.5882, 0) -> (-155.2941, 0)
  line L88 (-155.2941, 0) -> (-155.2941, -5)
  line L89 (-155.2941, -5) -> (-160, -5)
  line L90 (-160, -5) -> (-160, -8.8571)
  line L91 (-160, -8.8571) -> (-165, -8.8571)
  line L92 (0, -31) -> (-82.5, -31) construction
  circle A1 centre (-82.5, -31) radius 15.125
  dimension "d41" = 82.5
  dimension "d42" = 30.25
extrude "Extrude3" cut sketch "Sketch3" against normal blind 3 contours A1
sketch "Sketch4" plane through (0, 0, 5) normal (0, 0, 1) x (-1, 0, 0)
  circle A0 centre (-82.5, -31) radius 15.125
  line L0 (-165, -8.8571) -> (-165, -17.7143)
  line L1 (-165, -17.7143) -> (-160, -17.7143)
  line L2 (-160, -17.7143) -> (-160, -26.5714)
  line L3 (-160, -26.5714) -> (-165, -26.5714)
  line L4 (-165, -26.5714) -> (-165, -35.4286)
  line L5 (-165, -35.4286) -> (-160, -35.4286)
  line L6 (-160, -35.4286) -> (-160, -44.2857)
  line L7 (-160, -44.2857) -> (-165, -44.2857)
  line L8 (-165, -44.2857) -> (-165, -53.1429)
  line L9 (-165, -53.1429) -> (-160, -53.1429)
  line L10 (-160, -53.1429) -> (-160, -57)
  line L11 (-160, -57) -> (-155.2941, -57)
  line L12 (-155.2941, -57) -> (-155.2941, -62)
  line L13 (-155.2941, -62) -> (-145.5882, -62)
  line L14 (-145.5882, -62) -> (-145.5882, -57)
  line L15 (-145.5882, -57) -> (-135.8824, -57)
  line L16 (-135.8824, -57) -> (-135.8824, -62)
  line L17 (-135.8824, -62) -> (-126.1765, -62)
  line L18 (-126.1765, -62) -> (-126.1765, -57)
  line L19 (-126.1765, -57) -> (-116.4706, -57)
  line L20 (-116.4706, -57) -> (-116.4706, -62)
  line L21 (-116.4706, -62) -> (-106.7647, -62)
  line L22 (-106.7647, -62) -> (-106.7647, -57)
  line L23 (-106.7647, -57) -> (-97.0588, -57)
  line L24 (-97.0588, -57) -> (-97.0588, -62)
  line L25 (-97.0588, -62) -> (-87.3529, -62)
  line L26 (-87.3529, -62) -> (-87.3529, -57)
  line L27 (-87.3529, -57) -> (-77.6471, -57)
  line L28 (-77.6471, -57) -> (-77.6471, -62)
  line L29 (-77.6471, -62) -> (-67.9412, -62)
  line L30 (-67.9412, -62) -> (-67.9412, -57)
  line L31 (-67.9412, -57) -> (-58.2353, -57)
  line L32 (-58.2353, -57) -> (-58.2353, -62)
  line L33 (-58.2353, -62) -> (-48.5294, -62)
  line L34 (-48.5294, -62) -> (-48.5294, -57)
  line L35 (-48.5294, -57) -> (-38.8235, -57)
  line L36 (-38.8235, -57) -> (-38.8235, -62)
  line L37 (-38.8235, -62) -> (-29.1176, -62)
  line L38 (-29.1176, -62) -> (-29.1176, -57)
  line L39 (-29.1176, -57) -> (-19.4118, -57)
  line L40 (-19.4118, -57) -> (-19.4118, -62)
  line L41 (-19.4118, -62) -> (-9.7059, -62)
  line L42 (-9.7059, -62) -> (-9.7059, -57)
  line L43 (-9.7059, -57) -> (-5, -57)
  line L44 (-5, -57) -> (-5, -53.1429)
  line L45 (-5, -53.1429) -> (0, -53.1429)
  line L46 (0, -53.1429) -> (0, -44.2857)
  line L47 (0, -44.2857) -> (-5, -44.2857)
  line L48 (-5, -44.2857) -> (-5, -35.4286)
  line L49 (-5, -35.4286) -> (0, -35.4286)
  line L50 (0, -35.4286) -> (0, -26.5714)
  line L51 (0, -26.5714) -> (-5, -26.5714)
  line L52 (-5, -26.5714) -> (-5, -17.7143)
  line L53 (-5, -17.7143) -> (0, -17.7143)
  line L54 (0, -17.7143) -> (0, -8.8571)
  line L55 (0, -8.8571) -> (-5, -8.8571)
  line L56 (-5, -8.8571) -> (-5, -5)
  line L57 (-5, -5) -> (-9.7059, -5)
  line L58 (-9.7059, -5) -> (-9.7059, 0)
  line L59 (-9.7059, 0) -> (-19.4118, 0)
  line L60 (-19.4118, 0) -> (-19.4118, -5)
  line L61 (-19.4118, -5) -> (-29.1176, -5)
  line L62 (-29.1176, -5) -> (-29.1176, 0)
  line L63 (-29.1176, 0) -> (-38.8235, 0)
  line L64 (-38.8235, 0) -> (-38.8235, -5)
  line L65 (-38.8235, -5) -> (-48.5294, -5)
  line L66 (-48.5294, -5) -> (-48.5294, 0)
  line L67 (-48.5294, 0) -> (-58.2353, 0)
  line L68 (-58.2353, 0) -> (-58.2353, -5)
  line L69 (-58.2353, -5) -> (-67.9412, -5)
  line L70 (-67.9412, -5) -> (-67.9412, 0)
  line L71 (-67.9412, 0) -> (-77.6471, 0)
  line L72 (-77.6471, 0) -> (-77.6471, -5)
  line L73 (-77.6471, -5) -> (-87.3529, -5)
  line L74 (-87.3529, -5) -> (-87.3529, 0)
  line L75 (-87.3529, 0) -> (-97.0588, 0)
  line L76 (-97.0588, 0) -> (-97.0588, -5)
  line L77 (-97.0588, -5) -> (-106.7647, -5)
  line L78 (-106.7647, -5) -> (-106.7647, 0)
  line L79 (-106.7647, 0) -> (-116.4706, 0)
  line L80 (-116.4706, 0) -> (-116.4706, -5)
  line L81 (-116.4706, -5) -> (-126.1765, -5)
  line L82 (-126.1765, -5) -> (-126.1765, 0)
  line L83 (-126.1765, 0) -> (-135.8824, 0)
  line L84 (-135.8824, 0) -> (-135.8824, -5)
  line L85 (-135.8824, -5) -> (-145.5882, -5)
  line L86 (-145.5882, -5) -> (-145.5882, 0)
  line L87 (-145.5882, 0) -> (-155.2941, 0)
  line L88 (-155.2941, 0) -> (-155.2941, -5)
  line L89 (-155.2941, -5) -> (-160, -5)
  line L90 (-160, -5) -> (-160, -8.8571)
  line L91 (-160, -8.8571) -> (-165, -8.8571)
  line L92 (-165, -31) -> (-97.625, -31) construction
  line L93 (-97.625, -31) -> (-122.625, -31) construction
  line L94 (-125.775, -34.15) -> (-119.475, -34.15)
  line L95 (-119.475, -34.15) -> (-119.475, -27.85)
  line L96 (-119.475, -27.85) -> (-125.775, -27.85)
  line L97 (-125.775, -27.85) -> (-125.775, -34.15)
  line L98 (-125.775, -34.15) -> (-119.475, -27.85) construction
  line L99 (-119.475, -34.15) -> (-125.775, -27.85) construction
  line L100 (0, -31) -> (-67.375, -31) construction
  line L101 (-67.375, -31) -> (-42.375, -31) construction
  line L102 (-39.225, -27.85) -> (-45.525, -27.85)
  line L103 (-45.525, -27.85) -> (-45.525, -34.15)
  line L104 (-45.525, -34.15) -> (-39.225, -34.15)
  line L105 (-39.225, -34.15) -> (-39.225, -27.85)
  line L106 (-39.225, -27.85) -> (-45.525, -34.15) construction
  line L107 (-45.525, -27.85) -> (-39.225, -34.15) construction
  point P0 (-122.625, -31)
  point P1 (-42.375, -31)
  dimension "d48" = 25
  dimension "d49" = 6.3
  dimension "d50" = 6.3
  dimension "d51" = 25
  dimension "d52" = 6.3
  dimension "d53" = 6.3
extrude "Extrude4" cut sketch "Sketch4" against normal up to surface (5 mm away) contours L94 L95 L96 L97 | L102 L103 L104 L105
equation "box_length = 165 mm"
equation "box_width = 62 mm"
equation "box_depth = 5 mm"
equation "d4 = box_length"
equation "d5 = box_width"
equation "d6 = box_length / 17"
equation "d7 = box_depth"
equation "d10 = box_length - box_length / 17"
equation "d12 = box_depth"
equation "d13 = box_width / 7"
equation "d17 = -box_width + box_width / 7"
equation "d18 = box_length / 17"
equation "d19 = box_depth"
equation "d22 = box_length - box_length / 17"
equation "d24 = box_depth"
equation "d25 = box_width / 7"
equation "d29 = -box_width + box_width / 7"
equation "d30 = box_depth"
equation "buzzer_diam = 30.25 mm"
equation "d36 = box_length / 2"
equation "buzzer_hole_diam = 26 mm"
equation "d38 = buzzer_hole_diam"
equation "d41 = box_length / 2"
equation "d42 = buzzer_diam"
equation "d43 = -box_depth + 2 mm"
equation "button_depth = 3.5 mm"
equation "button_width = 6.3 mm"
equation "button_hole_width = 4.5 mm"
equation "d49 = button_width"
equation "d50 = button_width"
equation "d52 = button_width"
equation "d53 = button_width"
